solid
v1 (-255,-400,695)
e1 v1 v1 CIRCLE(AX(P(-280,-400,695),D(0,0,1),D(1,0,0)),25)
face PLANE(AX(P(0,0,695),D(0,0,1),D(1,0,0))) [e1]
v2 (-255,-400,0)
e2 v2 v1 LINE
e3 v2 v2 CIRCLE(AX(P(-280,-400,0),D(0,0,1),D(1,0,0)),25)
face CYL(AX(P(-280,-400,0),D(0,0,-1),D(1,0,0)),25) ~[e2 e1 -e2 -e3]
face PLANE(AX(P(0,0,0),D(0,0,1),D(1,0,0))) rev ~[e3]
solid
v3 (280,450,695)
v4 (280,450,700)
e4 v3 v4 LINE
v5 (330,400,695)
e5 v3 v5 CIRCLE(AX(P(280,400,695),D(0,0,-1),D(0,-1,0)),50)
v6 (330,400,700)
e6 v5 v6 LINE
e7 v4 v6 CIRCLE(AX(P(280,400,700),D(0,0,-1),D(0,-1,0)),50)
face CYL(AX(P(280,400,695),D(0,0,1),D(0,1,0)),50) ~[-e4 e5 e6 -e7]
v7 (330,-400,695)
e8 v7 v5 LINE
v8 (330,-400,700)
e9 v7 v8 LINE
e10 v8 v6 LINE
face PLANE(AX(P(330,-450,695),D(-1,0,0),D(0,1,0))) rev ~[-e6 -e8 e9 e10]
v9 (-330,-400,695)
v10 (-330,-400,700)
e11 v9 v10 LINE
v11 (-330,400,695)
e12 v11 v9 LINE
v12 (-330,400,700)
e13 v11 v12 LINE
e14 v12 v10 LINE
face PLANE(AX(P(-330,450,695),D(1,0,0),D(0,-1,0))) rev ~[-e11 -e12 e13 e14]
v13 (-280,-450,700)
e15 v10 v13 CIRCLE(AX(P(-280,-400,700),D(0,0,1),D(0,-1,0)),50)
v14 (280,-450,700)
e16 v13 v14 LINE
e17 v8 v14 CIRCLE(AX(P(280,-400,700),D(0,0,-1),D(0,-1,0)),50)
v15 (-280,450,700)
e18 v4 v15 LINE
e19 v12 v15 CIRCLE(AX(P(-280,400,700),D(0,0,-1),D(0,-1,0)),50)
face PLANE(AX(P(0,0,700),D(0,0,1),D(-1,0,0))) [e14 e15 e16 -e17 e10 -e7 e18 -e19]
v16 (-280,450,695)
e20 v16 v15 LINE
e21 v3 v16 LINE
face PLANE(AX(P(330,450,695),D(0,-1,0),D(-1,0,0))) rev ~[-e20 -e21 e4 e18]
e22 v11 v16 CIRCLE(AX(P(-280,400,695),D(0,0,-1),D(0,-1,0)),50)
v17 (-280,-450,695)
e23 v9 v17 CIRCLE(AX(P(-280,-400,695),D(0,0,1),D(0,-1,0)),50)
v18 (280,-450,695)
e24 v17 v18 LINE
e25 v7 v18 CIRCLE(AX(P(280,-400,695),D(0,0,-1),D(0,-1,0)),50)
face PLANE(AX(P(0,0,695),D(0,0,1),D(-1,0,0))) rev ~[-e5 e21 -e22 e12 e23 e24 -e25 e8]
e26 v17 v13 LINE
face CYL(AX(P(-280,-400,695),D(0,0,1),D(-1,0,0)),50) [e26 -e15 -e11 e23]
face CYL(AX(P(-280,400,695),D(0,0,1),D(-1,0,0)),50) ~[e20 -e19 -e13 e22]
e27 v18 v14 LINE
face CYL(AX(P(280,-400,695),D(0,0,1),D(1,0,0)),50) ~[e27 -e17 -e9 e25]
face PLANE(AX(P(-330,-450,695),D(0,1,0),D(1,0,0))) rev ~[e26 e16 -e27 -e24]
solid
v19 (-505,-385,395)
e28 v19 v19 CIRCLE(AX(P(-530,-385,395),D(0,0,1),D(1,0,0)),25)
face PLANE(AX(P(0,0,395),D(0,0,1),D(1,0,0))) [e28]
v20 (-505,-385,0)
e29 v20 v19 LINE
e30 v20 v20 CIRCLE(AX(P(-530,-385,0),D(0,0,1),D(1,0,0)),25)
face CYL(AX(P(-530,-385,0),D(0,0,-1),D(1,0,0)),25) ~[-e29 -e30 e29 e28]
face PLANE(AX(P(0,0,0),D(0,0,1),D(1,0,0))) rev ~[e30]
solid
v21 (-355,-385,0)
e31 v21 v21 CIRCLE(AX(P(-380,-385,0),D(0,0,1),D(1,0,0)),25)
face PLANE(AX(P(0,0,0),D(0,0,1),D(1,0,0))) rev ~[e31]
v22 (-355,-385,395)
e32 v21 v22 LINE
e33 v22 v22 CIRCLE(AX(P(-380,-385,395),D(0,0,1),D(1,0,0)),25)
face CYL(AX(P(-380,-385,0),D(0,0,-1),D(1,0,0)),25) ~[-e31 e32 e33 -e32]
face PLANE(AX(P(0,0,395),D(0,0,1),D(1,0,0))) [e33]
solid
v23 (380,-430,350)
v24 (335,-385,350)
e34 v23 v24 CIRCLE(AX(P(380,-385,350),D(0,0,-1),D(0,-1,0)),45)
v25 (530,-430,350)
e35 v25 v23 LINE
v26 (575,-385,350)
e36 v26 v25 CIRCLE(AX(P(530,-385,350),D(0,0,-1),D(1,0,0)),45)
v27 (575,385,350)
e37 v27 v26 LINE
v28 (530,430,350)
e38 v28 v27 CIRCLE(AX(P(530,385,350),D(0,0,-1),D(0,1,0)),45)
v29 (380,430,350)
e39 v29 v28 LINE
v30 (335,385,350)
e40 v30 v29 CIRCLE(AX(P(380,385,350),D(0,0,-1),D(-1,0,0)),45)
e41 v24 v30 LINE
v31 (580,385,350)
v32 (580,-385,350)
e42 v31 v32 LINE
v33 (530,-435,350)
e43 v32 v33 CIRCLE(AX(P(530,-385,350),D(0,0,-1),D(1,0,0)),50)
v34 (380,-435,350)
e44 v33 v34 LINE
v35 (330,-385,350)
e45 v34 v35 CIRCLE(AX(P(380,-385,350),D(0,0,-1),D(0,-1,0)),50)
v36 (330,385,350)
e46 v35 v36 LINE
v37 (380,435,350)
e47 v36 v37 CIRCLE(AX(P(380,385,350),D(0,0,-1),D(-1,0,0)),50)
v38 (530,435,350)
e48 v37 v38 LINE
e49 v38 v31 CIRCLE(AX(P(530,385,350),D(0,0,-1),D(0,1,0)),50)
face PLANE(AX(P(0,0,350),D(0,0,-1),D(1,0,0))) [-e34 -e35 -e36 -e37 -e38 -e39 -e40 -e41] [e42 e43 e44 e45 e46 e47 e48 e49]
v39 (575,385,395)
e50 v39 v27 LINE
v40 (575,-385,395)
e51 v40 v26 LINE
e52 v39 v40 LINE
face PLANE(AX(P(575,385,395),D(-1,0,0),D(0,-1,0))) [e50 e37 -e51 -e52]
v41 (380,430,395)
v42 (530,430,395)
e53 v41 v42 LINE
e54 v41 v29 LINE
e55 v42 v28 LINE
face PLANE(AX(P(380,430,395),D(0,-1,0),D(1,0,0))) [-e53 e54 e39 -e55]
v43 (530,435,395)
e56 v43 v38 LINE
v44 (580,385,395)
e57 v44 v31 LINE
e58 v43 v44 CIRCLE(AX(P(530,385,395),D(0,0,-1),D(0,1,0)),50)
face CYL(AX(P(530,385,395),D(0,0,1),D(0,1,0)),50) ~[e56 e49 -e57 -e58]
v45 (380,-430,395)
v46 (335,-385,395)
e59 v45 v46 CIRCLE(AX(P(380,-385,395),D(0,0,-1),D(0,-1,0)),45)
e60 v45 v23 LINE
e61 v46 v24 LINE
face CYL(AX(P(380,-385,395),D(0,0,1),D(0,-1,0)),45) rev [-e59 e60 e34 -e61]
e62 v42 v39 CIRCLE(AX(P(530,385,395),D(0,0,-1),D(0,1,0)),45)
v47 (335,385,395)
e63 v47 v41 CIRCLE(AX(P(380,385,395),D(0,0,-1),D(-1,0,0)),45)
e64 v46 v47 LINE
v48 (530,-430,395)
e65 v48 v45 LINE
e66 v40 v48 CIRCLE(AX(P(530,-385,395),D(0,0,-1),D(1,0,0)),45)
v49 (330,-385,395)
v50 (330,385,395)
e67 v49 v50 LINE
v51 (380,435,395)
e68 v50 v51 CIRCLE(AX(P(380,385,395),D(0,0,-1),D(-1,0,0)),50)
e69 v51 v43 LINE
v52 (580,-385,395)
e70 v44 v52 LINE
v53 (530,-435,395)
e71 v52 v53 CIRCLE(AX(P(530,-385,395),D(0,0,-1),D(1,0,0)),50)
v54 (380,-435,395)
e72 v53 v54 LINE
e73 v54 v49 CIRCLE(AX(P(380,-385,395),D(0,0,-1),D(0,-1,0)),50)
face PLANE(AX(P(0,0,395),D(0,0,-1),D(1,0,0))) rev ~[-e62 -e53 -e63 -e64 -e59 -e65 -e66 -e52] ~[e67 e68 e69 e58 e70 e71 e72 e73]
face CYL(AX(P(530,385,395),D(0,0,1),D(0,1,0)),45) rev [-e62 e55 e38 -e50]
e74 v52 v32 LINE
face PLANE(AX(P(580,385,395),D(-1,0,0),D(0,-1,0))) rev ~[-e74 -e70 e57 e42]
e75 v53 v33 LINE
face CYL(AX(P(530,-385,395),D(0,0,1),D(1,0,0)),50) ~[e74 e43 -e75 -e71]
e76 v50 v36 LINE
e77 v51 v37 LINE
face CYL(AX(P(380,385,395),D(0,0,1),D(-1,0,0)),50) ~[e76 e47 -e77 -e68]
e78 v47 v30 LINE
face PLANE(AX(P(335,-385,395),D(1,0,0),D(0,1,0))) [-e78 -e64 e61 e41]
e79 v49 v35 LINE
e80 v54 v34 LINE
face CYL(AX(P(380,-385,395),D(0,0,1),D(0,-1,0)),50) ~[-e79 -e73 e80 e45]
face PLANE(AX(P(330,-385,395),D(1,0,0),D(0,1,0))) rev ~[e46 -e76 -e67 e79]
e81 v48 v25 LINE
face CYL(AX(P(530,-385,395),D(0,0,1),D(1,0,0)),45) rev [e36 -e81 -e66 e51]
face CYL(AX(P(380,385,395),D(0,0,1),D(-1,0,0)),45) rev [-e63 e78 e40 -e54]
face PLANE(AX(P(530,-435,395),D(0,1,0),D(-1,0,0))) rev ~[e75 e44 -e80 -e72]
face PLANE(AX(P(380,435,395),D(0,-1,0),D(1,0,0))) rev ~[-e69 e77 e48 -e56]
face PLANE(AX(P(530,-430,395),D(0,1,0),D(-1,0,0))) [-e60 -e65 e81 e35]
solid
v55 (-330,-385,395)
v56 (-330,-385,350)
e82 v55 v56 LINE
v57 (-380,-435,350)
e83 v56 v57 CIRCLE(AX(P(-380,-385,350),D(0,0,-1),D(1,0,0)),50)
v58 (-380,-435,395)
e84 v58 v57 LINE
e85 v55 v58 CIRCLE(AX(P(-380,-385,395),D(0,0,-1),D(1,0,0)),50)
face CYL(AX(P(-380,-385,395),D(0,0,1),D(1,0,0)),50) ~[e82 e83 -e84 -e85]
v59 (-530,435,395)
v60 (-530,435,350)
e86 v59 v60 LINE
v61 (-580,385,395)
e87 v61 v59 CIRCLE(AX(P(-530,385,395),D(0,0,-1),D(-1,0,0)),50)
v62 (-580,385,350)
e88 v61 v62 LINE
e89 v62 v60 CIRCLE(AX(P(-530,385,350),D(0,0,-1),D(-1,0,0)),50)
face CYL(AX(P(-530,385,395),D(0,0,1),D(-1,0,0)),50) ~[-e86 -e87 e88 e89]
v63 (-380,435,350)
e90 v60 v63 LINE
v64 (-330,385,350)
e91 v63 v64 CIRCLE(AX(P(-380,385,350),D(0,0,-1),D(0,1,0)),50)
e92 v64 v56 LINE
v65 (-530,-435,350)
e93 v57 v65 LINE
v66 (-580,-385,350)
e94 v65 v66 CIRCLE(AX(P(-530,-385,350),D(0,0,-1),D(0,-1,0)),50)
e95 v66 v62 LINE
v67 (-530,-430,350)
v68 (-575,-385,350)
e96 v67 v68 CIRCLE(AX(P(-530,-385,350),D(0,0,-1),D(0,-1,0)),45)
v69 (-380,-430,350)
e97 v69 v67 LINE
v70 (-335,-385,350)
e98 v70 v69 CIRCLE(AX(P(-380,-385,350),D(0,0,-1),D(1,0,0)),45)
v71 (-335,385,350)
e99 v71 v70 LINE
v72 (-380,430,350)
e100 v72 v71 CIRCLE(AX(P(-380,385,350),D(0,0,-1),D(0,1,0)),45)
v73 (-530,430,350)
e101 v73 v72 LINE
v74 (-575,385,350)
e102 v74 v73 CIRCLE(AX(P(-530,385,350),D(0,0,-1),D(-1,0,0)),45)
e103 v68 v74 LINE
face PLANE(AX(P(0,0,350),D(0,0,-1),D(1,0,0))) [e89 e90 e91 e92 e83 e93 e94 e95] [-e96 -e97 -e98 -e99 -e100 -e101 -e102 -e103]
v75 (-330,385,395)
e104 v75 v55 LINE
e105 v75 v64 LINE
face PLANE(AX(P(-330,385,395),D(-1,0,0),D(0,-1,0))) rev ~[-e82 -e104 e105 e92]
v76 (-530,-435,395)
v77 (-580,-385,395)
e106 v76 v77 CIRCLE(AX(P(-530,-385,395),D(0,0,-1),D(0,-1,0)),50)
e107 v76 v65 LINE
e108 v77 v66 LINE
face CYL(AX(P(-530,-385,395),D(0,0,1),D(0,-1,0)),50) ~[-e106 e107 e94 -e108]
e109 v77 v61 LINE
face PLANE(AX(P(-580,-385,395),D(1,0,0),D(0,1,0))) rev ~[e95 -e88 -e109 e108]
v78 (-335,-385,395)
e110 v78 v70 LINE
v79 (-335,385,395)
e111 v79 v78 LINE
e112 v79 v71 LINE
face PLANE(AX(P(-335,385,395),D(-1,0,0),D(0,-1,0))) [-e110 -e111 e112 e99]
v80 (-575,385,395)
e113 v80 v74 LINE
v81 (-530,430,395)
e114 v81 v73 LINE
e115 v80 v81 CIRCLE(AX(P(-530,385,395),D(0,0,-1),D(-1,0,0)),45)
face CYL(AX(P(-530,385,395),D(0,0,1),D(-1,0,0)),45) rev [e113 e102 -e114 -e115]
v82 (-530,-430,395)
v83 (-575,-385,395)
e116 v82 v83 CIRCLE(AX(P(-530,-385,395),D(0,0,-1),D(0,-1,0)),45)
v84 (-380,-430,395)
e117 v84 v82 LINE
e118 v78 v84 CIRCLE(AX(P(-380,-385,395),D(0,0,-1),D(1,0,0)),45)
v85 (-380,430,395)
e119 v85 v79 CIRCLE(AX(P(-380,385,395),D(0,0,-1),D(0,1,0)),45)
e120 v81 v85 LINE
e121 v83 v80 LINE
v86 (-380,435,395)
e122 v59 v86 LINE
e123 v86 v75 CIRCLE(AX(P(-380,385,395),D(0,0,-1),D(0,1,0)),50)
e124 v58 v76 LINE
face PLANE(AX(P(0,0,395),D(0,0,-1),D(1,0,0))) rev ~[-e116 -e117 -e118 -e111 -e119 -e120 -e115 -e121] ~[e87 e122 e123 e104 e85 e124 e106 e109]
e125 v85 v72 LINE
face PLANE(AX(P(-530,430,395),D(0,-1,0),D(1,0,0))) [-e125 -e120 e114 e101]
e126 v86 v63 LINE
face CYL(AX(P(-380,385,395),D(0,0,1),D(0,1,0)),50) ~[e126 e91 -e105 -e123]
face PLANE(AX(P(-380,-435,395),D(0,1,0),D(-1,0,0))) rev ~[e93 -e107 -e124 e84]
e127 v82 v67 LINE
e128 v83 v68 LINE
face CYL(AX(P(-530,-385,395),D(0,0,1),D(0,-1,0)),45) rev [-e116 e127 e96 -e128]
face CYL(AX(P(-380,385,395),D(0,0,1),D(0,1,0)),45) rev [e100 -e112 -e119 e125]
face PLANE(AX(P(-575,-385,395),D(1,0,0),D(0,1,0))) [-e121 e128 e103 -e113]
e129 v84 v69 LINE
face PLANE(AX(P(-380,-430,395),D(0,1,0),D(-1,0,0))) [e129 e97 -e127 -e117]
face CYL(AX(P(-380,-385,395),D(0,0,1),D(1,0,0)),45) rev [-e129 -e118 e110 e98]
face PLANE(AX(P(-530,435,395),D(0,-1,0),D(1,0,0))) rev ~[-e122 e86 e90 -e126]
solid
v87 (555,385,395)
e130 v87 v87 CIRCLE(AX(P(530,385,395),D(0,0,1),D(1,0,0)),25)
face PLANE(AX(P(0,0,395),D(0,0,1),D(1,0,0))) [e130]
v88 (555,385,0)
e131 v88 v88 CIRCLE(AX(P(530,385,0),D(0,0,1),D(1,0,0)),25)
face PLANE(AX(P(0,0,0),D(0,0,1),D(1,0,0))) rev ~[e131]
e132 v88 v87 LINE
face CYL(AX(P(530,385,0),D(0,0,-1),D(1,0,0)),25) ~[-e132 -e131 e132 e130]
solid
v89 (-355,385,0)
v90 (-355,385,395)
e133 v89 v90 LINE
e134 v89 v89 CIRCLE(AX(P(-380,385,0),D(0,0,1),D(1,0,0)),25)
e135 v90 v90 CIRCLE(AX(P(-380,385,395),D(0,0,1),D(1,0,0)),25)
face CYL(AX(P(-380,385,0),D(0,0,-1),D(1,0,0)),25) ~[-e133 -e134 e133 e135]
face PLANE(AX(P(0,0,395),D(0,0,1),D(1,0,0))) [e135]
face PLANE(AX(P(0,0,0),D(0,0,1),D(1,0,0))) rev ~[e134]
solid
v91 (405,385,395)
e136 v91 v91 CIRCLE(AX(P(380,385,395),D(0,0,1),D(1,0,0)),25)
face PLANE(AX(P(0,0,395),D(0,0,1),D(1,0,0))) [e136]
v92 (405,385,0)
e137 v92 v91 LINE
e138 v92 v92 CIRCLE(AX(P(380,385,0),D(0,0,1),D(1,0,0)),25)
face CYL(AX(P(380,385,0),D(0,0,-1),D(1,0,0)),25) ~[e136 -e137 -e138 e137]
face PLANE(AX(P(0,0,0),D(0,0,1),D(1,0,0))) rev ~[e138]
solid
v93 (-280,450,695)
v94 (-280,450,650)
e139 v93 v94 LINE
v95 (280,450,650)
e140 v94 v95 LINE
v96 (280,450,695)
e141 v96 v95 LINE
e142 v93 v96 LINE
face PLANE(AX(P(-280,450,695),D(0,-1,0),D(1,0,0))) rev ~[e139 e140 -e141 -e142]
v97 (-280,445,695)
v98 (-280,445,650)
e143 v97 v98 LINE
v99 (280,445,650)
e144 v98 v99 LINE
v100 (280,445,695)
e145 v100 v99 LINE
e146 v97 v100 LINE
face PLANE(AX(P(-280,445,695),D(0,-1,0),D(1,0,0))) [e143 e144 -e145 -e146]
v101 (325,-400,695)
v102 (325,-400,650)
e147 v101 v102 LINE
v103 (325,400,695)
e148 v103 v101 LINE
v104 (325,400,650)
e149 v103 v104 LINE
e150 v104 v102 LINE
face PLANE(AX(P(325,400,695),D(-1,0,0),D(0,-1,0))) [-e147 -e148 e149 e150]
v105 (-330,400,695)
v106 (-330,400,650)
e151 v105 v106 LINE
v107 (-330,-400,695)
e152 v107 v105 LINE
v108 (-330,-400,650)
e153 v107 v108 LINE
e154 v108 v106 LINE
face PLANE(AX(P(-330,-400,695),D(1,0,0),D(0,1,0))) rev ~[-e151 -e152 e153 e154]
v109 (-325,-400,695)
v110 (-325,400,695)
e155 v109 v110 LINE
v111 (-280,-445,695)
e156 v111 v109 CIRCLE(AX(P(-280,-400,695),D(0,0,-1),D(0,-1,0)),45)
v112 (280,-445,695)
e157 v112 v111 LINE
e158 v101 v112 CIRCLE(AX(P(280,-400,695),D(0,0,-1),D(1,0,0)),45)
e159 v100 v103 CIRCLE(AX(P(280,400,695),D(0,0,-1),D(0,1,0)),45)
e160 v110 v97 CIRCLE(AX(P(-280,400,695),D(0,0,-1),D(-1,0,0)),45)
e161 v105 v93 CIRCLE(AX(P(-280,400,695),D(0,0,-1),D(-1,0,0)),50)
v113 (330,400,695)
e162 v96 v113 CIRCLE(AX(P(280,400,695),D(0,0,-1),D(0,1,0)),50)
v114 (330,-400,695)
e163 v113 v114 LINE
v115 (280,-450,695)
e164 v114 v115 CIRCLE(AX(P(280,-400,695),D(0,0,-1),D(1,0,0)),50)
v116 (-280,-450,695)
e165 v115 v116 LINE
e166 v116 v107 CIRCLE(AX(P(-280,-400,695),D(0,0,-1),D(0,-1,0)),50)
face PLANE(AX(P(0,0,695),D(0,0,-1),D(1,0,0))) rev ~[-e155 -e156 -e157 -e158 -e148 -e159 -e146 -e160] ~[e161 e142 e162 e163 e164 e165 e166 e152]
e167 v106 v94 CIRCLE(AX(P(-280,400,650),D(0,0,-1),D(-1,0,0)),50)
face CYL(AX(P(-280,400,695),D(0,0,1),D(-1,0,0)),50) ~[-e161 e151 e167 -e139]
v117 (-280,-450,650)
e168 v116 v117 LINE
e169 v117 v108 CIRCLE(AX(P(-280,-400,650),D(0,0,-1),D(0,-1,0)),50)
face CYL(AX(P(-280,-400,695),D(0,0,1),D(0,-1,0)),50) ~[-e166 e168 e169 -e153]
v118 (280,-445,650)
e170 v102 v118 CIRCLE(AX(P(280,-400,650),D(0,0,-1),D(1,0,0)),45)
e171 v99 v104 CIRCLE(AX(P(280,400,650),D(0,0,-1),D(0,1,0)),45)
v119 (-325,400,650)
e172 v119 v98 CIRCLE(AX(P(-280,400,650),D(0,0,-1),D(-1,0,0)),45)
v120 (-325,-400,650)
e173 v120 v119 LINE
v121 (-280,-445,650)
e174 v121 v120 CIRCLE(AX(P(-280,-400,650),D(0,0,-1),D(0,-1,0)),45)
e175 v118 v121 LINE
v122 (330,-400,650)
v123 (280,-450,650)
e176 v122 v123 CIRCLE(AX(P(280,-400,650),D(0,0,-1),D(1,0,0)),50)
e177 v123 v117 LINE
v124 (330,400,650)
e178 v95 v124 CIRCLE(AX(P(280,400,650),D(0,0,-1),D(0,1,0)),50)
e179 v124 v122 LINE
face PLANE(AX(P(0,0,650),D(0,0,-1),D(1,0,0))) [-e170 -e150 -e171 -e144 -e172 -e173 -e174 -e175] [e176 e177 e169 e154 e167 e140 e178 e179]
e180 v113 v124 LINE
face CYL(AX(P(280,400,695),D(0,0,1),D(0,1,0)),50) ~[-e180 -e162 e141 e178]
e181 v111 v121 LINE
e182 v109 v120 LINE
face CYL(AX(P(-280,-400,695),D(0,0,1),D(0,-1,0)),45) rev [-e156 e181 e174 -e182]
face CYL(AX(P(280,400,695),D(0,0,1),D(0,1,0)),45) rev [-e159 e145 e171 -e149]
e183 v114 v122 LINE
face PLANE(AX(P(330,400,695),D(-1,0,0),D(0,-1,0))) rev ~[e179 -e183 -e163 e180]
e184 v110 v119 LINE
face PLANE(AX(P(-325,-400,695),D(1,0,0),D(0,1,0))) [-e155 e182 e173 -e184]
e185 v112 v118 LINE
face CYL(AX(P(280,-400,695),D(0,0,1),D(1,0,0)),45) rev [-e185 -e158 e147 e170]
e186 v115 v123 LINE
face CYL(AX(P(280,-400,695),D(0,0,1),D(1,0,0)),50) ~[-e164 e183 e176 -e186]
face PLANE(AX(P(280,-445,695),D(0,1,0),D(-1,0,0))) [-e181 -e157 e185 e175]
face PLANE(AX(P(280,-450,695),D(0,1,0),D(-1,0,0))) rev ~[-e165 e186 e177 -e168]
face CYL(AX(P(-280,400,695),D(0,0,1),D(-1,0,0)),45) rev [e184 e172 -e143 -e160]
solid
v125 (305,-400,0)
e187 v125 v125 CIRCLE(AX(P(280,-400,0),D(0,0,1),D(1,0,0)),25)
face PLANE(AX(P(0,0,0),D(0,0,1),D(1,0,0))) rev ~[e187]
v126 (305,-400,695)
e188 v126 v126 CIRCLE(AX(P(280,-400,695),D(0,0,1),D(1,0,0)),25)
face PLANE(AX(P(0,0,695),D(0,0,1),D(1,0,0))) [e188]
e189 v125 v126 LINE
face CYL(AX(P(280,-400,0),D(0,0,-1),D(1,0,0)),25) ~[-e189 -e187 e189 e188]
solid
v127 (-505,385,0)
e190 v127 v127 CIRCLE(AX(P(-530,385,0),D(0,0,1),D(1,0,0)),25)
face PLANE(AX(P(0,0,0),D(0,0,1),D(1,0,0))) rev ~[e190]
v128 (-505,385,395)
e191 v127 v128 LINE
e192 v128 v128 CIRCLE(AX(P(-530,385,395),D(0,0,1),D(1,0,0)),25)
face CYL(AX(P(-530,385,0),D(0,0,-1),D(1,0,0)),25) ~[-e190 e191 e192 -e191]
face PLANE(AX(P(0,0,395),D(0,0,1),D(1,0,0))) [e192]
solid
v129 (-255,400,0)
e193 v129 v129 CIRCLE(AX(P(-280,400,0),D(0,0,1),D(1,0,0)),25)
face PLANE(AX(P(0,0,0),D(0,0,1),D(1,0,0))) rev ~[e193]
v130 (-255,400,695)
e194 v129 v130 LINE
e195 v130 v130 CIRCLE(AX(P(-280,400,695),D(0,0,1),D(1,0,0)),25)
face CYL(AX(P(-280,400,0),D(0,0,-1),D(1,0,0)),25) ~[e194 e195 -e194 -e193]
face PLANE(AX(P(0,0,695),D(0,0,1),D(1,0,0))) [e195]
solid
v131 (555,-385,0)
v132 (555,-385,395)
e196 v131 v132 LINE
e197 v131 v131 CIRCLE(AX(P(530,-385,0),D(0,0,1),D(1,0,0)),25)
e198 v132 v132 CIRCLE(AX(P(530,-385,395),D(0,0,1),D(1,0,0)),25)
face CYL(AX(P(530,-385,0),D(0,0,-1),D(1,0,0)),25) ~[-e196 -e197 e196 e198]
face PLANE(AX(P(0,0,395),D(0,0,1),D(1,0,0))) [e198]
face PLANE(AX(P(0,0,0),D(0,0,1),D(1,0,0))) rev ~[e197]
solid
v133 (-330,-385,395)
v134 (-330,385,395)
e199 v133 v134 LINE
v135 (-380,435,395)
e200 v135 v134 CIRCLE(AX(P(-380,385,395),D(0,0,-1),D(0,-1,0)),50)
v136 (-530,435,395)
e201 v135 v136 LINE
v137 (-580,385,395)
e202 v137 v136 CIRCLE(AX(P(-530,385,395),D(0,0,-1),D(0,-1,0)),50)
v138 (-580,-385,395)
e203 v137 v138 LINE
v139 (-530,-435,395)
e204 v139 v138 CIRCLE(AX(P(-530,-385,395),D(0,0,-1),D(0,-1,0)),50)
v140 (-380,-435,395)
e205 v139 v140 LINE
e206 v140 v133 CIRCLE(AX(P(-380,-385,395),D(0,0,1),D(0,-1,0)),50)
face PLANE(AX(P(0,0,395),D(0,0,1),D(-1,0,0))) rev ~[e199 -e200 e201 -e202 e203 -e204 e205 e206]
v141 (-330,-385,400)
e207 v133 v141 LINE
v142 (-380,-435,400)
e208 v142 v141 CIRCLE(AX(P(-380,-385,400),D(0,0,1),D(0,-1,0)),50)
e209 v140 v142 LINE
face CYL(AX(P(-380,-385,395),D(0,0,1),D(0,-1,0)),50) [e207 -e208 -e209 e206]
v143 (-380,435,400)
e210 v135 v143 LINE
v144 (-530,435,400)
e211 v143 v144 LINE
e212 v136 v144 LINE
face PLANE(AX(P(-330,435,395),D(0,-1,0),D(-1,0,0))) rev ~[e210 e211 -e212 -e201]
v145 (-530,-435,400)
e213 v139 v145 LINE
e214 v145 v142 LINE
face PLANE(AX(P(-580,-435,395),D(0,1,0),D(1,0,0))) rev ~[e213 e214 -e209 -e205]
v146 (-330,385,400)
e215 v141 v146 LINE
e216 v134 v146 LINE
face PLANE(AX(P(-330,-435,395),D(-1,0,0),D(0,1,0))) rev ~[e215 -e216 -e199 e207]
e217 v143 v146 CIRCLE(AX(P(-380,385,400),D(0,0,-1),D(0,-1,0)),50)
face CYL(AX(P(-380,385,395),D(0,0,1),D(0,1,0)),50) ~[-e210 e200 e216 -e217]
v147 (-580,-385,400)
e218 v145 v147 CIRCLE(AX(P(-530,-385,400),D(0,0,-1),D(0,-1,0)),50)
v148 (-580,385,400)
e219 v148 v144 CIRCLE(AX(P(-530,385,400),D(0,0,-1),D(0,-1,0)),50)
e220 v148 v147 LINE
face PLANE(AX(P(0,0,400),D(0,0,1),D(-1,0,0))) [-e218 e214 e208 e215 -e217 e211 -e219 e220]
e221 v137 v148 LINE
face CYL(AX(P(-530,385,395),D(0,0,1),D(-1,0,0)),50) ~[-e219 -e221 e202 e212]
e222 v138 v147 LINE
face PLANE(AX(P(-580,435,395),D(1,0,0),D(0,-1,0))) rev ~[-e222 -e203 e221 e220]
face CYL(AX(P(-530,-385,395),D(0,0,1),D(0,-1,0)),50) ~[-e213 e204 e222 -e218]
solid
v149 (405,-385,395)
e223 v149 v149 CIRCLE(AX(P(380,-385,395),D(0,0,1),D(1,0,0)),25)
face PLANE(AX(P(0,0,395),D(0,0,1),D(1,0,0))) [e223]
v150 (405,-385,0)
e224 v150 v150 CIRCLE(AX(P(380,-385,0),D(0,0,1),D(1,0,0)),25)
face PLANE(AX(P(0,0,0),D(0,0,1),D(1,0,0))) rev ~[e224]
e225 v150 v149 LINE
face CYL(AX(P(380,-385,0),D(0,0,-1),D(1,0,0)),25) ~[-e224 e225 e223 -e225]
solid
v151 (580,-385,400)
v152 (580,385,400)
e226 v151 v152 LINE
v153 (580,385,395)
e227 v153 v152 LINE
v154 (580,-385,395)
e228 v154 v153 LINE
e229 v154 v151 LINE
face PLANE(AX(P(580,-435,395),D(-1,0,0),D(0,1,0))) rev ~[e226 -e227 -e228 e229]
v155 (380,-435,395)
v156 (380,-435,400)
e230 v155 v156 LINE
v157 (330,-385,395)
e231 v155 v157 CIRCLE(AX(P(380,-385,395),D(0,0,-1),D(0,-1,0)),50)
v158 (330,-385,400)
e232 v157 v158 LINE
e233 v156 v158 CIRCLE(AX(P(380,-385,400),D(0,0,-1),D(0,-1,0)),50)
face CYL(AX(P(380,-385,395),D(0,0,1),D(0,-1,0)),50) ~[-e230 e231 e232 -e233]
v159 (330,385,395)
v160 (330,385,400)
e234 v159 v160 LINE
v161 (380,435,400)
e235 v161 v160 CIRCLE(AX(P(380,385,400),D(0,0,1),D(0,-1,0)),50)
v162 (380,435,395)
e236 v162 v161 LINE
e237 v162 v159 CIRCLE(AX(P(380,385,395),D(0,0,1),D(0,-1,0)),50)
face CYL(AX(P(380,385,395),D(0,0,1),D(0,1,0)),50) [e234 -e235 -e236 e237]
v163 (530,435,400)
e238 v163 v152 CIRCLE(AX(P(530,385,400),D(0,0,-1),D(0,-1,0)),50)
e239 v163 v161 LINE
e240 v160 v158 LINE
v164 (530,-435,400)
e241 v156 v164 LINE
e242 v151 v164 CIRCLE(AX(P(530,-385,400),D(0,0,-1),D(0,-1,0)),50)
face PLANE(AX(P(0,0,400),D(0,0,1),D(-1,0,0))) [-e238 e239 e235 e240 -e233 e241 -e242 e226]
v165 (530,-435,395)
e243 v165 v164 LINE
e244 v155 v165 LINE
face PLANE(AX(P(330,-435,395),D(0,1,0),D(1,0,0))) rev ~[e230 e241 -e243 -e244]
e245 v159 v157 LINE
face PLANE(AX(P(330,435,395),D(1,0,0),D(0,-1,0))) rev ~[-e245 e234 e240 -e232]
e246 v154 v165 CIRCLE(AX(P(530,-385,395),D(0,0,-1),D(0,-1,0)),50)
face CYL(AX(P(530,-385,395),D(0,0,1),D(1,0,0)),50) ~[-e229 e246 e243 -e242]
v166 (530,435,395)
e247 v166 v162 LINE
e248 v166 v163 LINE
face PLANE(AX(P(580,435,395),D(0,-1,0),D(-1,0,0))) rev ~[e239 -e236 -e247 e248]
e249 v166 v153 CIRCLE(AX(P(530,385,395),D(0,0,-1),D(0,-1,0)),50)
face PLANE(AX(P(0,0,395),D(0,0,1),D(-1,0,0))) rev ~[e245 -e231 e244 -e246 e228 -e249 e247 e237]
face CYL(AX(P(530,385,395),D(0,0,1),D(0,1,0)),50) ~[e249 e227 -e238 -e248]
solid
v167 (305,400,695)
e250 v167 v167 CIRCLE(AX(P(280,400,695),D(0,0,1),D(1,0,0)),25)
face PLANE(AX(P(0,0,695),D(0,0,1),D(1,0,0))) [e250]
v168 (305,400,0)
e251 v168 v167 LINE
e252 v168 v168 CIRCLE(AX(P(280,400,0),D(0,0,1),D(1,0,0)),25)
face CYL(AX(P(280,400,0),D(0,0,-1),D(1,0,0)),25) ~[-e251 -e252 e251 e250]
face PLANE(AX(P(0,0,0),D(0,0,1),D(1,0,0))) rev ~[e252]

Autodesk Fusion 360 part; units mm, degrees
sketch "Sketch1" plane through (0, 0, 0) normal (0, 0, 1) x (1, 0, 0)
  line L0 (-330, -450) -> (330, -450)
  line L1 (330, -450) -> (330, 450)
  line L2 (330, 450) -> (-330, 450)
  line L3 (-330, 450) -> (-330, -450)
  line L4 (-330, -450) -> (330, 450) construction
  line L5 (330, -450) -> (-330, 450) construction
  circle A0 centre (-280, -400) radius 25
  circle A1 centre (-280, -400) radius 25
  circle A2 centre (280, -400) radius 25
  circle A3 centre (280, 400) radius 25
  circle A4 centre (-280, 400) radius 25
  line L6 (-580, -435) -> (-330, -435)
  line L7 (-330, -435) -> (-330, 435)
  line L8 (-330, 435) -> (-580, 435)
  line L9 (-580, 435) -> (-580, -435)
  line L10 (330, -435) -> (580, -435)
  line L11 (580, -435) -> (580, 435)
  line L12 (580, 435) -> (330, 435)
  line L13 (330, 435) -> (330, -435)
  circle A5 centre (-530, -385) radius 25
  circle A6 centre (-380, -385) radius 25
  circle A7 centre (-530, 385) radius 25
  circle A8 centre (-380, 385) radius 25
  circle A9 centre (380, -385) radius 25
  circle A10 centre (530, -385) radius 25
  circle A11 centre (530, 385) radius 25
  circle A12 centre (380, 385) radius 25
  dimension "d1" = 900
  dimension "d2" = 660
  dimension "d3" = 50
  dimension "d4" = 50
  dimension "d5" = 50
  dimension "d6" = 50
  dimension "d7" = 50
  dimension "d8" = 50
  dimension "d9" = 50
  dimension "d10" = 50
  dimension "d11" = 50
  dimension "d12" = 50
  dimension "d13" = 250
  dimension "d14" = 870
  dimension "d15" = 15
  dimension "d16" = 50
  dimension "d17" = 50
  dimension "d18" = 50
  dimension "d19" = 50
  dimension "d20" = 50
  dimension "d21" = 50
  dimension "d22" = 50
  dimension "d23" = 50
  dimension "d24" = 50
  dimension "d25" = 50
  dimension "d26" = 50
  dimension "d27" = 50
  dimension "d28" = 50
  dimension "d29" = 50
  dimension "d30" = 50
  dimension "d31" = 50
extrude "Extrude1" add sketch "Sketch1" along normal blind 395 contours A5 | A6 | A7 | A8 | A9 | A10 | A11 | A12 makes body 1 at (-525.6588, -360.3798, 263.3333) makes body 2 at (404.9689, -386.2461, 263.3333) makes body 3 at (534.3412, 409.6202, 263.3333) makes body 4 at (-525.6588, 409.6202, 263.3333) makes body 5 at (-355.0311, -386.2461, 263.3333) makes body 6 at (534.3412, -360.3798, 263.3333) makes body 7 at (404.9689, 383.7539, 263.3333) makes body 8 at (-355.0311, 383.7539, 263.3333)
extrude "Extrude2" add sketch "Sketch1" along normal blind 695 separate body contours A0 A1 | A2 | A3 | A4 makes body 9 at (304.8758, 397.5108, 231.6667) makes body 10 at (304.8758, -402.4892, 231.6667) makes body 11 at (-255.1242, 397.5108, 231.6667) makes body 12 at (-255.1242, -402.4892, 231.6667)
sketch "Sketch2" plane through (0, 0, 395) normal (0, 0, 1) x (-1, 0, 0)
  circle A0 centre (530, -385) radius 25
  line L0 (-330, -435) -> (-330, 435)
  line L1 (-580, -435) -> (-330, -435)
  line L2 (-580, 435) -> (-580, -435)
  line L3 (-330, 435) -> (-580, 435)
  line L4 (330, 435) -> (330, -435)
  line L5 (330, -435) -> (580, -435)
  line L6 (580, -435) -> (580, 435)
  line L7 (580, 435) -> (330, 435)
extrude "Extrude3" add sketch "Sketch2" along normal blind 5 separate body contours A0 | L0 L1 L2 L3 | L4 L5 L6 L7 makes body 13 at (413.3333, 145, 395) makes body 14 at (-413.3333, -145, 395)
sketch "Sketch3" plane through (0, 0, 695) normal (0, 0, 1) x (-1, 0, 0)
  circle A0 centre (-280, -400) radius 25
  line L0 (330, 450) -> (-330, 450)
  line L1 (-330, -450) -> (330, -450)
  line L2 (330, -450) -> (330, 450)
  line L3 (-330, 450) -> (-330, -450)
extrude "Extrude4" add sketch "Sketch3" along normal blind 5 separate body contours A0 | L0 L1 L2 L3 makes body 15
fillet "Fillet2" radius 50 4 edges at (330, -450, 697.5) (-330, -450, 697.5) (-330, 450, 697.5) (330, 450, 697.5) on bodies 15
fillet "Fillet3" radius 50 4 edges at (580, 435, 397.5) (330, 435, 397.5) (580, -435, 397.5) (330, -435, 397.5) on bodies 13
fillet "Fillet4" radius 50 4 edges at (-580, -435, 397.5) (-330, -435, 397.5) (-580, 435, 397.5) (-330, 435, 397.5) on bodies 14
sketch "Sketch7" plane through (0, 0, 695) normal (0, 0, -1) x (1, 0, 0)
  arc A0 (280, -450) -> (330, -400) centre (280, -400) ccw
  line L0 (330, -400) -> (330, 400)
  arc A1 (330, 400) -> (280, 450) centre (280, 400) ccw
  line L1 (280, 450) -> (-280, 450)
  arc A2 (-280, 450) -> (-330, 400) centre (-280, 400) ccw
  line L2 (-330, 400) -> (-330, -400)
  arc A3 (-330, -400) -> (-280, -450) centre (-280, -400) ccw
  line L3 (-280, -450) -> (280, -450)
  arc A4 (280, -445) -> (325, -400) centre (280, -400) ccw
  line L4 (325, -400) -> (325, 400)
  arc A5 (325, 400) -> (280, 445) centre (280, 400) ccw
  line L5 (280, 445) -> (-280, 445)
  arc A6 (-280, 445) -> (-325, 400) centre (-280, 400) ccw
  line L6 (-325, 400) -> (-325, -400)
  arc A7 (-325, -400) -> (-280, -445) centre (-280, -400) ccw
  line L7 (-280, -445) -> (280, -445)
  dimension "d51" = -5
sketch "Sketch8" plane through (0, 0, 395) normal (0, 0, -1) x (1, 0, 0)
  arc A0 (-380, -435) -> (-330, -385) centre (-380, -385) ccw
  line L0 (-330, -385) -> (-330, 385)
  arc A1 (-330, 385) -> (-380, 435) centre (-380, 385) ccw
  line L1 (-380, 435) -> (-530, 435)
  arc A2 (-530, 435) -> (-580, 385) centre (-530, 385) ccw
  line L2 (-580, 385) -> (-580, -385)
  arc A3 (-580, -385) -> (-530, -435) centre (-530, -385) ccw
  line L3 (-530, -435) -> (-380, -435)
  line L4 (-335, -385) -> (-335, 385)
  arc A4 (-335, 385) -> (-380, 430) centre (-380, 385) ccw
  line L5 (-380, 430) -> (-530, 430)
  arc A5 (-530, 430) -> (-575, 385) centre (-530, 385) ccw
  line L6 (-575, 385) -> (-575, -385)
  arc A6 (-575, -385) -> (-530, -430) centre (-530, -385) ccw
  line L7 (-530, -430) -> (-380, -430)
  arc A7 (-380, -430) -> (-335, -385) centre (-380, -385) ccw
  dimension "d52" = -5
sketch "Sketch9" plane through (0, 0, 395) normal (0, 0, -1) x (1, 0, 0)
  arc A0 (380, 435) -> (330, 385) centre (380, 385) ccw
  line L0 (330, 385) -> (330, -385)
  arc A1 (330, -385) -> (380, -435) centre (380, -385) ccw
  line L1 (380, -435) -> (530, -435)
  arc A2 (530, -435) -> (580, -385) centre (530, -385) ccw
  line L2 (580, -385) -> (580, 385)
  arc A3 (580, 385) -> (530, 435) centre (530, 385) ccw
  line L3 (530, 435) -> (380, 435)
  line L4 (575, -385) -> (575, 385)
  arc A4 (575, 385) -> (530, 430) centre (530, 385) ccw
  line L5 (530, 430) -> (380, 430)
  arc A5 (380, 430) -> (335, 385) centre (380, 385) ccw
  line L6 (335, 385) -> (335, -385)
  arc A6 (335, -385) -> (380, -430) centre (380, -385) ccw
  line L7 (380, -430) -> (530, -430)
  arc A7 (530, -430) -> (575, -385) centre (530, -385) ccw
  dimension "d53" = -5
extrude "Extrude7" add sketch "Sketch7" along normal blind 45 separate body makes body 16
extrude "Extrude8" add sketch "Sketch9" along normal blind 45 separate body makes body 17
extrude "Extrude9" add sketch "Sketch8" along normal blind 45 separate body makes body 18
